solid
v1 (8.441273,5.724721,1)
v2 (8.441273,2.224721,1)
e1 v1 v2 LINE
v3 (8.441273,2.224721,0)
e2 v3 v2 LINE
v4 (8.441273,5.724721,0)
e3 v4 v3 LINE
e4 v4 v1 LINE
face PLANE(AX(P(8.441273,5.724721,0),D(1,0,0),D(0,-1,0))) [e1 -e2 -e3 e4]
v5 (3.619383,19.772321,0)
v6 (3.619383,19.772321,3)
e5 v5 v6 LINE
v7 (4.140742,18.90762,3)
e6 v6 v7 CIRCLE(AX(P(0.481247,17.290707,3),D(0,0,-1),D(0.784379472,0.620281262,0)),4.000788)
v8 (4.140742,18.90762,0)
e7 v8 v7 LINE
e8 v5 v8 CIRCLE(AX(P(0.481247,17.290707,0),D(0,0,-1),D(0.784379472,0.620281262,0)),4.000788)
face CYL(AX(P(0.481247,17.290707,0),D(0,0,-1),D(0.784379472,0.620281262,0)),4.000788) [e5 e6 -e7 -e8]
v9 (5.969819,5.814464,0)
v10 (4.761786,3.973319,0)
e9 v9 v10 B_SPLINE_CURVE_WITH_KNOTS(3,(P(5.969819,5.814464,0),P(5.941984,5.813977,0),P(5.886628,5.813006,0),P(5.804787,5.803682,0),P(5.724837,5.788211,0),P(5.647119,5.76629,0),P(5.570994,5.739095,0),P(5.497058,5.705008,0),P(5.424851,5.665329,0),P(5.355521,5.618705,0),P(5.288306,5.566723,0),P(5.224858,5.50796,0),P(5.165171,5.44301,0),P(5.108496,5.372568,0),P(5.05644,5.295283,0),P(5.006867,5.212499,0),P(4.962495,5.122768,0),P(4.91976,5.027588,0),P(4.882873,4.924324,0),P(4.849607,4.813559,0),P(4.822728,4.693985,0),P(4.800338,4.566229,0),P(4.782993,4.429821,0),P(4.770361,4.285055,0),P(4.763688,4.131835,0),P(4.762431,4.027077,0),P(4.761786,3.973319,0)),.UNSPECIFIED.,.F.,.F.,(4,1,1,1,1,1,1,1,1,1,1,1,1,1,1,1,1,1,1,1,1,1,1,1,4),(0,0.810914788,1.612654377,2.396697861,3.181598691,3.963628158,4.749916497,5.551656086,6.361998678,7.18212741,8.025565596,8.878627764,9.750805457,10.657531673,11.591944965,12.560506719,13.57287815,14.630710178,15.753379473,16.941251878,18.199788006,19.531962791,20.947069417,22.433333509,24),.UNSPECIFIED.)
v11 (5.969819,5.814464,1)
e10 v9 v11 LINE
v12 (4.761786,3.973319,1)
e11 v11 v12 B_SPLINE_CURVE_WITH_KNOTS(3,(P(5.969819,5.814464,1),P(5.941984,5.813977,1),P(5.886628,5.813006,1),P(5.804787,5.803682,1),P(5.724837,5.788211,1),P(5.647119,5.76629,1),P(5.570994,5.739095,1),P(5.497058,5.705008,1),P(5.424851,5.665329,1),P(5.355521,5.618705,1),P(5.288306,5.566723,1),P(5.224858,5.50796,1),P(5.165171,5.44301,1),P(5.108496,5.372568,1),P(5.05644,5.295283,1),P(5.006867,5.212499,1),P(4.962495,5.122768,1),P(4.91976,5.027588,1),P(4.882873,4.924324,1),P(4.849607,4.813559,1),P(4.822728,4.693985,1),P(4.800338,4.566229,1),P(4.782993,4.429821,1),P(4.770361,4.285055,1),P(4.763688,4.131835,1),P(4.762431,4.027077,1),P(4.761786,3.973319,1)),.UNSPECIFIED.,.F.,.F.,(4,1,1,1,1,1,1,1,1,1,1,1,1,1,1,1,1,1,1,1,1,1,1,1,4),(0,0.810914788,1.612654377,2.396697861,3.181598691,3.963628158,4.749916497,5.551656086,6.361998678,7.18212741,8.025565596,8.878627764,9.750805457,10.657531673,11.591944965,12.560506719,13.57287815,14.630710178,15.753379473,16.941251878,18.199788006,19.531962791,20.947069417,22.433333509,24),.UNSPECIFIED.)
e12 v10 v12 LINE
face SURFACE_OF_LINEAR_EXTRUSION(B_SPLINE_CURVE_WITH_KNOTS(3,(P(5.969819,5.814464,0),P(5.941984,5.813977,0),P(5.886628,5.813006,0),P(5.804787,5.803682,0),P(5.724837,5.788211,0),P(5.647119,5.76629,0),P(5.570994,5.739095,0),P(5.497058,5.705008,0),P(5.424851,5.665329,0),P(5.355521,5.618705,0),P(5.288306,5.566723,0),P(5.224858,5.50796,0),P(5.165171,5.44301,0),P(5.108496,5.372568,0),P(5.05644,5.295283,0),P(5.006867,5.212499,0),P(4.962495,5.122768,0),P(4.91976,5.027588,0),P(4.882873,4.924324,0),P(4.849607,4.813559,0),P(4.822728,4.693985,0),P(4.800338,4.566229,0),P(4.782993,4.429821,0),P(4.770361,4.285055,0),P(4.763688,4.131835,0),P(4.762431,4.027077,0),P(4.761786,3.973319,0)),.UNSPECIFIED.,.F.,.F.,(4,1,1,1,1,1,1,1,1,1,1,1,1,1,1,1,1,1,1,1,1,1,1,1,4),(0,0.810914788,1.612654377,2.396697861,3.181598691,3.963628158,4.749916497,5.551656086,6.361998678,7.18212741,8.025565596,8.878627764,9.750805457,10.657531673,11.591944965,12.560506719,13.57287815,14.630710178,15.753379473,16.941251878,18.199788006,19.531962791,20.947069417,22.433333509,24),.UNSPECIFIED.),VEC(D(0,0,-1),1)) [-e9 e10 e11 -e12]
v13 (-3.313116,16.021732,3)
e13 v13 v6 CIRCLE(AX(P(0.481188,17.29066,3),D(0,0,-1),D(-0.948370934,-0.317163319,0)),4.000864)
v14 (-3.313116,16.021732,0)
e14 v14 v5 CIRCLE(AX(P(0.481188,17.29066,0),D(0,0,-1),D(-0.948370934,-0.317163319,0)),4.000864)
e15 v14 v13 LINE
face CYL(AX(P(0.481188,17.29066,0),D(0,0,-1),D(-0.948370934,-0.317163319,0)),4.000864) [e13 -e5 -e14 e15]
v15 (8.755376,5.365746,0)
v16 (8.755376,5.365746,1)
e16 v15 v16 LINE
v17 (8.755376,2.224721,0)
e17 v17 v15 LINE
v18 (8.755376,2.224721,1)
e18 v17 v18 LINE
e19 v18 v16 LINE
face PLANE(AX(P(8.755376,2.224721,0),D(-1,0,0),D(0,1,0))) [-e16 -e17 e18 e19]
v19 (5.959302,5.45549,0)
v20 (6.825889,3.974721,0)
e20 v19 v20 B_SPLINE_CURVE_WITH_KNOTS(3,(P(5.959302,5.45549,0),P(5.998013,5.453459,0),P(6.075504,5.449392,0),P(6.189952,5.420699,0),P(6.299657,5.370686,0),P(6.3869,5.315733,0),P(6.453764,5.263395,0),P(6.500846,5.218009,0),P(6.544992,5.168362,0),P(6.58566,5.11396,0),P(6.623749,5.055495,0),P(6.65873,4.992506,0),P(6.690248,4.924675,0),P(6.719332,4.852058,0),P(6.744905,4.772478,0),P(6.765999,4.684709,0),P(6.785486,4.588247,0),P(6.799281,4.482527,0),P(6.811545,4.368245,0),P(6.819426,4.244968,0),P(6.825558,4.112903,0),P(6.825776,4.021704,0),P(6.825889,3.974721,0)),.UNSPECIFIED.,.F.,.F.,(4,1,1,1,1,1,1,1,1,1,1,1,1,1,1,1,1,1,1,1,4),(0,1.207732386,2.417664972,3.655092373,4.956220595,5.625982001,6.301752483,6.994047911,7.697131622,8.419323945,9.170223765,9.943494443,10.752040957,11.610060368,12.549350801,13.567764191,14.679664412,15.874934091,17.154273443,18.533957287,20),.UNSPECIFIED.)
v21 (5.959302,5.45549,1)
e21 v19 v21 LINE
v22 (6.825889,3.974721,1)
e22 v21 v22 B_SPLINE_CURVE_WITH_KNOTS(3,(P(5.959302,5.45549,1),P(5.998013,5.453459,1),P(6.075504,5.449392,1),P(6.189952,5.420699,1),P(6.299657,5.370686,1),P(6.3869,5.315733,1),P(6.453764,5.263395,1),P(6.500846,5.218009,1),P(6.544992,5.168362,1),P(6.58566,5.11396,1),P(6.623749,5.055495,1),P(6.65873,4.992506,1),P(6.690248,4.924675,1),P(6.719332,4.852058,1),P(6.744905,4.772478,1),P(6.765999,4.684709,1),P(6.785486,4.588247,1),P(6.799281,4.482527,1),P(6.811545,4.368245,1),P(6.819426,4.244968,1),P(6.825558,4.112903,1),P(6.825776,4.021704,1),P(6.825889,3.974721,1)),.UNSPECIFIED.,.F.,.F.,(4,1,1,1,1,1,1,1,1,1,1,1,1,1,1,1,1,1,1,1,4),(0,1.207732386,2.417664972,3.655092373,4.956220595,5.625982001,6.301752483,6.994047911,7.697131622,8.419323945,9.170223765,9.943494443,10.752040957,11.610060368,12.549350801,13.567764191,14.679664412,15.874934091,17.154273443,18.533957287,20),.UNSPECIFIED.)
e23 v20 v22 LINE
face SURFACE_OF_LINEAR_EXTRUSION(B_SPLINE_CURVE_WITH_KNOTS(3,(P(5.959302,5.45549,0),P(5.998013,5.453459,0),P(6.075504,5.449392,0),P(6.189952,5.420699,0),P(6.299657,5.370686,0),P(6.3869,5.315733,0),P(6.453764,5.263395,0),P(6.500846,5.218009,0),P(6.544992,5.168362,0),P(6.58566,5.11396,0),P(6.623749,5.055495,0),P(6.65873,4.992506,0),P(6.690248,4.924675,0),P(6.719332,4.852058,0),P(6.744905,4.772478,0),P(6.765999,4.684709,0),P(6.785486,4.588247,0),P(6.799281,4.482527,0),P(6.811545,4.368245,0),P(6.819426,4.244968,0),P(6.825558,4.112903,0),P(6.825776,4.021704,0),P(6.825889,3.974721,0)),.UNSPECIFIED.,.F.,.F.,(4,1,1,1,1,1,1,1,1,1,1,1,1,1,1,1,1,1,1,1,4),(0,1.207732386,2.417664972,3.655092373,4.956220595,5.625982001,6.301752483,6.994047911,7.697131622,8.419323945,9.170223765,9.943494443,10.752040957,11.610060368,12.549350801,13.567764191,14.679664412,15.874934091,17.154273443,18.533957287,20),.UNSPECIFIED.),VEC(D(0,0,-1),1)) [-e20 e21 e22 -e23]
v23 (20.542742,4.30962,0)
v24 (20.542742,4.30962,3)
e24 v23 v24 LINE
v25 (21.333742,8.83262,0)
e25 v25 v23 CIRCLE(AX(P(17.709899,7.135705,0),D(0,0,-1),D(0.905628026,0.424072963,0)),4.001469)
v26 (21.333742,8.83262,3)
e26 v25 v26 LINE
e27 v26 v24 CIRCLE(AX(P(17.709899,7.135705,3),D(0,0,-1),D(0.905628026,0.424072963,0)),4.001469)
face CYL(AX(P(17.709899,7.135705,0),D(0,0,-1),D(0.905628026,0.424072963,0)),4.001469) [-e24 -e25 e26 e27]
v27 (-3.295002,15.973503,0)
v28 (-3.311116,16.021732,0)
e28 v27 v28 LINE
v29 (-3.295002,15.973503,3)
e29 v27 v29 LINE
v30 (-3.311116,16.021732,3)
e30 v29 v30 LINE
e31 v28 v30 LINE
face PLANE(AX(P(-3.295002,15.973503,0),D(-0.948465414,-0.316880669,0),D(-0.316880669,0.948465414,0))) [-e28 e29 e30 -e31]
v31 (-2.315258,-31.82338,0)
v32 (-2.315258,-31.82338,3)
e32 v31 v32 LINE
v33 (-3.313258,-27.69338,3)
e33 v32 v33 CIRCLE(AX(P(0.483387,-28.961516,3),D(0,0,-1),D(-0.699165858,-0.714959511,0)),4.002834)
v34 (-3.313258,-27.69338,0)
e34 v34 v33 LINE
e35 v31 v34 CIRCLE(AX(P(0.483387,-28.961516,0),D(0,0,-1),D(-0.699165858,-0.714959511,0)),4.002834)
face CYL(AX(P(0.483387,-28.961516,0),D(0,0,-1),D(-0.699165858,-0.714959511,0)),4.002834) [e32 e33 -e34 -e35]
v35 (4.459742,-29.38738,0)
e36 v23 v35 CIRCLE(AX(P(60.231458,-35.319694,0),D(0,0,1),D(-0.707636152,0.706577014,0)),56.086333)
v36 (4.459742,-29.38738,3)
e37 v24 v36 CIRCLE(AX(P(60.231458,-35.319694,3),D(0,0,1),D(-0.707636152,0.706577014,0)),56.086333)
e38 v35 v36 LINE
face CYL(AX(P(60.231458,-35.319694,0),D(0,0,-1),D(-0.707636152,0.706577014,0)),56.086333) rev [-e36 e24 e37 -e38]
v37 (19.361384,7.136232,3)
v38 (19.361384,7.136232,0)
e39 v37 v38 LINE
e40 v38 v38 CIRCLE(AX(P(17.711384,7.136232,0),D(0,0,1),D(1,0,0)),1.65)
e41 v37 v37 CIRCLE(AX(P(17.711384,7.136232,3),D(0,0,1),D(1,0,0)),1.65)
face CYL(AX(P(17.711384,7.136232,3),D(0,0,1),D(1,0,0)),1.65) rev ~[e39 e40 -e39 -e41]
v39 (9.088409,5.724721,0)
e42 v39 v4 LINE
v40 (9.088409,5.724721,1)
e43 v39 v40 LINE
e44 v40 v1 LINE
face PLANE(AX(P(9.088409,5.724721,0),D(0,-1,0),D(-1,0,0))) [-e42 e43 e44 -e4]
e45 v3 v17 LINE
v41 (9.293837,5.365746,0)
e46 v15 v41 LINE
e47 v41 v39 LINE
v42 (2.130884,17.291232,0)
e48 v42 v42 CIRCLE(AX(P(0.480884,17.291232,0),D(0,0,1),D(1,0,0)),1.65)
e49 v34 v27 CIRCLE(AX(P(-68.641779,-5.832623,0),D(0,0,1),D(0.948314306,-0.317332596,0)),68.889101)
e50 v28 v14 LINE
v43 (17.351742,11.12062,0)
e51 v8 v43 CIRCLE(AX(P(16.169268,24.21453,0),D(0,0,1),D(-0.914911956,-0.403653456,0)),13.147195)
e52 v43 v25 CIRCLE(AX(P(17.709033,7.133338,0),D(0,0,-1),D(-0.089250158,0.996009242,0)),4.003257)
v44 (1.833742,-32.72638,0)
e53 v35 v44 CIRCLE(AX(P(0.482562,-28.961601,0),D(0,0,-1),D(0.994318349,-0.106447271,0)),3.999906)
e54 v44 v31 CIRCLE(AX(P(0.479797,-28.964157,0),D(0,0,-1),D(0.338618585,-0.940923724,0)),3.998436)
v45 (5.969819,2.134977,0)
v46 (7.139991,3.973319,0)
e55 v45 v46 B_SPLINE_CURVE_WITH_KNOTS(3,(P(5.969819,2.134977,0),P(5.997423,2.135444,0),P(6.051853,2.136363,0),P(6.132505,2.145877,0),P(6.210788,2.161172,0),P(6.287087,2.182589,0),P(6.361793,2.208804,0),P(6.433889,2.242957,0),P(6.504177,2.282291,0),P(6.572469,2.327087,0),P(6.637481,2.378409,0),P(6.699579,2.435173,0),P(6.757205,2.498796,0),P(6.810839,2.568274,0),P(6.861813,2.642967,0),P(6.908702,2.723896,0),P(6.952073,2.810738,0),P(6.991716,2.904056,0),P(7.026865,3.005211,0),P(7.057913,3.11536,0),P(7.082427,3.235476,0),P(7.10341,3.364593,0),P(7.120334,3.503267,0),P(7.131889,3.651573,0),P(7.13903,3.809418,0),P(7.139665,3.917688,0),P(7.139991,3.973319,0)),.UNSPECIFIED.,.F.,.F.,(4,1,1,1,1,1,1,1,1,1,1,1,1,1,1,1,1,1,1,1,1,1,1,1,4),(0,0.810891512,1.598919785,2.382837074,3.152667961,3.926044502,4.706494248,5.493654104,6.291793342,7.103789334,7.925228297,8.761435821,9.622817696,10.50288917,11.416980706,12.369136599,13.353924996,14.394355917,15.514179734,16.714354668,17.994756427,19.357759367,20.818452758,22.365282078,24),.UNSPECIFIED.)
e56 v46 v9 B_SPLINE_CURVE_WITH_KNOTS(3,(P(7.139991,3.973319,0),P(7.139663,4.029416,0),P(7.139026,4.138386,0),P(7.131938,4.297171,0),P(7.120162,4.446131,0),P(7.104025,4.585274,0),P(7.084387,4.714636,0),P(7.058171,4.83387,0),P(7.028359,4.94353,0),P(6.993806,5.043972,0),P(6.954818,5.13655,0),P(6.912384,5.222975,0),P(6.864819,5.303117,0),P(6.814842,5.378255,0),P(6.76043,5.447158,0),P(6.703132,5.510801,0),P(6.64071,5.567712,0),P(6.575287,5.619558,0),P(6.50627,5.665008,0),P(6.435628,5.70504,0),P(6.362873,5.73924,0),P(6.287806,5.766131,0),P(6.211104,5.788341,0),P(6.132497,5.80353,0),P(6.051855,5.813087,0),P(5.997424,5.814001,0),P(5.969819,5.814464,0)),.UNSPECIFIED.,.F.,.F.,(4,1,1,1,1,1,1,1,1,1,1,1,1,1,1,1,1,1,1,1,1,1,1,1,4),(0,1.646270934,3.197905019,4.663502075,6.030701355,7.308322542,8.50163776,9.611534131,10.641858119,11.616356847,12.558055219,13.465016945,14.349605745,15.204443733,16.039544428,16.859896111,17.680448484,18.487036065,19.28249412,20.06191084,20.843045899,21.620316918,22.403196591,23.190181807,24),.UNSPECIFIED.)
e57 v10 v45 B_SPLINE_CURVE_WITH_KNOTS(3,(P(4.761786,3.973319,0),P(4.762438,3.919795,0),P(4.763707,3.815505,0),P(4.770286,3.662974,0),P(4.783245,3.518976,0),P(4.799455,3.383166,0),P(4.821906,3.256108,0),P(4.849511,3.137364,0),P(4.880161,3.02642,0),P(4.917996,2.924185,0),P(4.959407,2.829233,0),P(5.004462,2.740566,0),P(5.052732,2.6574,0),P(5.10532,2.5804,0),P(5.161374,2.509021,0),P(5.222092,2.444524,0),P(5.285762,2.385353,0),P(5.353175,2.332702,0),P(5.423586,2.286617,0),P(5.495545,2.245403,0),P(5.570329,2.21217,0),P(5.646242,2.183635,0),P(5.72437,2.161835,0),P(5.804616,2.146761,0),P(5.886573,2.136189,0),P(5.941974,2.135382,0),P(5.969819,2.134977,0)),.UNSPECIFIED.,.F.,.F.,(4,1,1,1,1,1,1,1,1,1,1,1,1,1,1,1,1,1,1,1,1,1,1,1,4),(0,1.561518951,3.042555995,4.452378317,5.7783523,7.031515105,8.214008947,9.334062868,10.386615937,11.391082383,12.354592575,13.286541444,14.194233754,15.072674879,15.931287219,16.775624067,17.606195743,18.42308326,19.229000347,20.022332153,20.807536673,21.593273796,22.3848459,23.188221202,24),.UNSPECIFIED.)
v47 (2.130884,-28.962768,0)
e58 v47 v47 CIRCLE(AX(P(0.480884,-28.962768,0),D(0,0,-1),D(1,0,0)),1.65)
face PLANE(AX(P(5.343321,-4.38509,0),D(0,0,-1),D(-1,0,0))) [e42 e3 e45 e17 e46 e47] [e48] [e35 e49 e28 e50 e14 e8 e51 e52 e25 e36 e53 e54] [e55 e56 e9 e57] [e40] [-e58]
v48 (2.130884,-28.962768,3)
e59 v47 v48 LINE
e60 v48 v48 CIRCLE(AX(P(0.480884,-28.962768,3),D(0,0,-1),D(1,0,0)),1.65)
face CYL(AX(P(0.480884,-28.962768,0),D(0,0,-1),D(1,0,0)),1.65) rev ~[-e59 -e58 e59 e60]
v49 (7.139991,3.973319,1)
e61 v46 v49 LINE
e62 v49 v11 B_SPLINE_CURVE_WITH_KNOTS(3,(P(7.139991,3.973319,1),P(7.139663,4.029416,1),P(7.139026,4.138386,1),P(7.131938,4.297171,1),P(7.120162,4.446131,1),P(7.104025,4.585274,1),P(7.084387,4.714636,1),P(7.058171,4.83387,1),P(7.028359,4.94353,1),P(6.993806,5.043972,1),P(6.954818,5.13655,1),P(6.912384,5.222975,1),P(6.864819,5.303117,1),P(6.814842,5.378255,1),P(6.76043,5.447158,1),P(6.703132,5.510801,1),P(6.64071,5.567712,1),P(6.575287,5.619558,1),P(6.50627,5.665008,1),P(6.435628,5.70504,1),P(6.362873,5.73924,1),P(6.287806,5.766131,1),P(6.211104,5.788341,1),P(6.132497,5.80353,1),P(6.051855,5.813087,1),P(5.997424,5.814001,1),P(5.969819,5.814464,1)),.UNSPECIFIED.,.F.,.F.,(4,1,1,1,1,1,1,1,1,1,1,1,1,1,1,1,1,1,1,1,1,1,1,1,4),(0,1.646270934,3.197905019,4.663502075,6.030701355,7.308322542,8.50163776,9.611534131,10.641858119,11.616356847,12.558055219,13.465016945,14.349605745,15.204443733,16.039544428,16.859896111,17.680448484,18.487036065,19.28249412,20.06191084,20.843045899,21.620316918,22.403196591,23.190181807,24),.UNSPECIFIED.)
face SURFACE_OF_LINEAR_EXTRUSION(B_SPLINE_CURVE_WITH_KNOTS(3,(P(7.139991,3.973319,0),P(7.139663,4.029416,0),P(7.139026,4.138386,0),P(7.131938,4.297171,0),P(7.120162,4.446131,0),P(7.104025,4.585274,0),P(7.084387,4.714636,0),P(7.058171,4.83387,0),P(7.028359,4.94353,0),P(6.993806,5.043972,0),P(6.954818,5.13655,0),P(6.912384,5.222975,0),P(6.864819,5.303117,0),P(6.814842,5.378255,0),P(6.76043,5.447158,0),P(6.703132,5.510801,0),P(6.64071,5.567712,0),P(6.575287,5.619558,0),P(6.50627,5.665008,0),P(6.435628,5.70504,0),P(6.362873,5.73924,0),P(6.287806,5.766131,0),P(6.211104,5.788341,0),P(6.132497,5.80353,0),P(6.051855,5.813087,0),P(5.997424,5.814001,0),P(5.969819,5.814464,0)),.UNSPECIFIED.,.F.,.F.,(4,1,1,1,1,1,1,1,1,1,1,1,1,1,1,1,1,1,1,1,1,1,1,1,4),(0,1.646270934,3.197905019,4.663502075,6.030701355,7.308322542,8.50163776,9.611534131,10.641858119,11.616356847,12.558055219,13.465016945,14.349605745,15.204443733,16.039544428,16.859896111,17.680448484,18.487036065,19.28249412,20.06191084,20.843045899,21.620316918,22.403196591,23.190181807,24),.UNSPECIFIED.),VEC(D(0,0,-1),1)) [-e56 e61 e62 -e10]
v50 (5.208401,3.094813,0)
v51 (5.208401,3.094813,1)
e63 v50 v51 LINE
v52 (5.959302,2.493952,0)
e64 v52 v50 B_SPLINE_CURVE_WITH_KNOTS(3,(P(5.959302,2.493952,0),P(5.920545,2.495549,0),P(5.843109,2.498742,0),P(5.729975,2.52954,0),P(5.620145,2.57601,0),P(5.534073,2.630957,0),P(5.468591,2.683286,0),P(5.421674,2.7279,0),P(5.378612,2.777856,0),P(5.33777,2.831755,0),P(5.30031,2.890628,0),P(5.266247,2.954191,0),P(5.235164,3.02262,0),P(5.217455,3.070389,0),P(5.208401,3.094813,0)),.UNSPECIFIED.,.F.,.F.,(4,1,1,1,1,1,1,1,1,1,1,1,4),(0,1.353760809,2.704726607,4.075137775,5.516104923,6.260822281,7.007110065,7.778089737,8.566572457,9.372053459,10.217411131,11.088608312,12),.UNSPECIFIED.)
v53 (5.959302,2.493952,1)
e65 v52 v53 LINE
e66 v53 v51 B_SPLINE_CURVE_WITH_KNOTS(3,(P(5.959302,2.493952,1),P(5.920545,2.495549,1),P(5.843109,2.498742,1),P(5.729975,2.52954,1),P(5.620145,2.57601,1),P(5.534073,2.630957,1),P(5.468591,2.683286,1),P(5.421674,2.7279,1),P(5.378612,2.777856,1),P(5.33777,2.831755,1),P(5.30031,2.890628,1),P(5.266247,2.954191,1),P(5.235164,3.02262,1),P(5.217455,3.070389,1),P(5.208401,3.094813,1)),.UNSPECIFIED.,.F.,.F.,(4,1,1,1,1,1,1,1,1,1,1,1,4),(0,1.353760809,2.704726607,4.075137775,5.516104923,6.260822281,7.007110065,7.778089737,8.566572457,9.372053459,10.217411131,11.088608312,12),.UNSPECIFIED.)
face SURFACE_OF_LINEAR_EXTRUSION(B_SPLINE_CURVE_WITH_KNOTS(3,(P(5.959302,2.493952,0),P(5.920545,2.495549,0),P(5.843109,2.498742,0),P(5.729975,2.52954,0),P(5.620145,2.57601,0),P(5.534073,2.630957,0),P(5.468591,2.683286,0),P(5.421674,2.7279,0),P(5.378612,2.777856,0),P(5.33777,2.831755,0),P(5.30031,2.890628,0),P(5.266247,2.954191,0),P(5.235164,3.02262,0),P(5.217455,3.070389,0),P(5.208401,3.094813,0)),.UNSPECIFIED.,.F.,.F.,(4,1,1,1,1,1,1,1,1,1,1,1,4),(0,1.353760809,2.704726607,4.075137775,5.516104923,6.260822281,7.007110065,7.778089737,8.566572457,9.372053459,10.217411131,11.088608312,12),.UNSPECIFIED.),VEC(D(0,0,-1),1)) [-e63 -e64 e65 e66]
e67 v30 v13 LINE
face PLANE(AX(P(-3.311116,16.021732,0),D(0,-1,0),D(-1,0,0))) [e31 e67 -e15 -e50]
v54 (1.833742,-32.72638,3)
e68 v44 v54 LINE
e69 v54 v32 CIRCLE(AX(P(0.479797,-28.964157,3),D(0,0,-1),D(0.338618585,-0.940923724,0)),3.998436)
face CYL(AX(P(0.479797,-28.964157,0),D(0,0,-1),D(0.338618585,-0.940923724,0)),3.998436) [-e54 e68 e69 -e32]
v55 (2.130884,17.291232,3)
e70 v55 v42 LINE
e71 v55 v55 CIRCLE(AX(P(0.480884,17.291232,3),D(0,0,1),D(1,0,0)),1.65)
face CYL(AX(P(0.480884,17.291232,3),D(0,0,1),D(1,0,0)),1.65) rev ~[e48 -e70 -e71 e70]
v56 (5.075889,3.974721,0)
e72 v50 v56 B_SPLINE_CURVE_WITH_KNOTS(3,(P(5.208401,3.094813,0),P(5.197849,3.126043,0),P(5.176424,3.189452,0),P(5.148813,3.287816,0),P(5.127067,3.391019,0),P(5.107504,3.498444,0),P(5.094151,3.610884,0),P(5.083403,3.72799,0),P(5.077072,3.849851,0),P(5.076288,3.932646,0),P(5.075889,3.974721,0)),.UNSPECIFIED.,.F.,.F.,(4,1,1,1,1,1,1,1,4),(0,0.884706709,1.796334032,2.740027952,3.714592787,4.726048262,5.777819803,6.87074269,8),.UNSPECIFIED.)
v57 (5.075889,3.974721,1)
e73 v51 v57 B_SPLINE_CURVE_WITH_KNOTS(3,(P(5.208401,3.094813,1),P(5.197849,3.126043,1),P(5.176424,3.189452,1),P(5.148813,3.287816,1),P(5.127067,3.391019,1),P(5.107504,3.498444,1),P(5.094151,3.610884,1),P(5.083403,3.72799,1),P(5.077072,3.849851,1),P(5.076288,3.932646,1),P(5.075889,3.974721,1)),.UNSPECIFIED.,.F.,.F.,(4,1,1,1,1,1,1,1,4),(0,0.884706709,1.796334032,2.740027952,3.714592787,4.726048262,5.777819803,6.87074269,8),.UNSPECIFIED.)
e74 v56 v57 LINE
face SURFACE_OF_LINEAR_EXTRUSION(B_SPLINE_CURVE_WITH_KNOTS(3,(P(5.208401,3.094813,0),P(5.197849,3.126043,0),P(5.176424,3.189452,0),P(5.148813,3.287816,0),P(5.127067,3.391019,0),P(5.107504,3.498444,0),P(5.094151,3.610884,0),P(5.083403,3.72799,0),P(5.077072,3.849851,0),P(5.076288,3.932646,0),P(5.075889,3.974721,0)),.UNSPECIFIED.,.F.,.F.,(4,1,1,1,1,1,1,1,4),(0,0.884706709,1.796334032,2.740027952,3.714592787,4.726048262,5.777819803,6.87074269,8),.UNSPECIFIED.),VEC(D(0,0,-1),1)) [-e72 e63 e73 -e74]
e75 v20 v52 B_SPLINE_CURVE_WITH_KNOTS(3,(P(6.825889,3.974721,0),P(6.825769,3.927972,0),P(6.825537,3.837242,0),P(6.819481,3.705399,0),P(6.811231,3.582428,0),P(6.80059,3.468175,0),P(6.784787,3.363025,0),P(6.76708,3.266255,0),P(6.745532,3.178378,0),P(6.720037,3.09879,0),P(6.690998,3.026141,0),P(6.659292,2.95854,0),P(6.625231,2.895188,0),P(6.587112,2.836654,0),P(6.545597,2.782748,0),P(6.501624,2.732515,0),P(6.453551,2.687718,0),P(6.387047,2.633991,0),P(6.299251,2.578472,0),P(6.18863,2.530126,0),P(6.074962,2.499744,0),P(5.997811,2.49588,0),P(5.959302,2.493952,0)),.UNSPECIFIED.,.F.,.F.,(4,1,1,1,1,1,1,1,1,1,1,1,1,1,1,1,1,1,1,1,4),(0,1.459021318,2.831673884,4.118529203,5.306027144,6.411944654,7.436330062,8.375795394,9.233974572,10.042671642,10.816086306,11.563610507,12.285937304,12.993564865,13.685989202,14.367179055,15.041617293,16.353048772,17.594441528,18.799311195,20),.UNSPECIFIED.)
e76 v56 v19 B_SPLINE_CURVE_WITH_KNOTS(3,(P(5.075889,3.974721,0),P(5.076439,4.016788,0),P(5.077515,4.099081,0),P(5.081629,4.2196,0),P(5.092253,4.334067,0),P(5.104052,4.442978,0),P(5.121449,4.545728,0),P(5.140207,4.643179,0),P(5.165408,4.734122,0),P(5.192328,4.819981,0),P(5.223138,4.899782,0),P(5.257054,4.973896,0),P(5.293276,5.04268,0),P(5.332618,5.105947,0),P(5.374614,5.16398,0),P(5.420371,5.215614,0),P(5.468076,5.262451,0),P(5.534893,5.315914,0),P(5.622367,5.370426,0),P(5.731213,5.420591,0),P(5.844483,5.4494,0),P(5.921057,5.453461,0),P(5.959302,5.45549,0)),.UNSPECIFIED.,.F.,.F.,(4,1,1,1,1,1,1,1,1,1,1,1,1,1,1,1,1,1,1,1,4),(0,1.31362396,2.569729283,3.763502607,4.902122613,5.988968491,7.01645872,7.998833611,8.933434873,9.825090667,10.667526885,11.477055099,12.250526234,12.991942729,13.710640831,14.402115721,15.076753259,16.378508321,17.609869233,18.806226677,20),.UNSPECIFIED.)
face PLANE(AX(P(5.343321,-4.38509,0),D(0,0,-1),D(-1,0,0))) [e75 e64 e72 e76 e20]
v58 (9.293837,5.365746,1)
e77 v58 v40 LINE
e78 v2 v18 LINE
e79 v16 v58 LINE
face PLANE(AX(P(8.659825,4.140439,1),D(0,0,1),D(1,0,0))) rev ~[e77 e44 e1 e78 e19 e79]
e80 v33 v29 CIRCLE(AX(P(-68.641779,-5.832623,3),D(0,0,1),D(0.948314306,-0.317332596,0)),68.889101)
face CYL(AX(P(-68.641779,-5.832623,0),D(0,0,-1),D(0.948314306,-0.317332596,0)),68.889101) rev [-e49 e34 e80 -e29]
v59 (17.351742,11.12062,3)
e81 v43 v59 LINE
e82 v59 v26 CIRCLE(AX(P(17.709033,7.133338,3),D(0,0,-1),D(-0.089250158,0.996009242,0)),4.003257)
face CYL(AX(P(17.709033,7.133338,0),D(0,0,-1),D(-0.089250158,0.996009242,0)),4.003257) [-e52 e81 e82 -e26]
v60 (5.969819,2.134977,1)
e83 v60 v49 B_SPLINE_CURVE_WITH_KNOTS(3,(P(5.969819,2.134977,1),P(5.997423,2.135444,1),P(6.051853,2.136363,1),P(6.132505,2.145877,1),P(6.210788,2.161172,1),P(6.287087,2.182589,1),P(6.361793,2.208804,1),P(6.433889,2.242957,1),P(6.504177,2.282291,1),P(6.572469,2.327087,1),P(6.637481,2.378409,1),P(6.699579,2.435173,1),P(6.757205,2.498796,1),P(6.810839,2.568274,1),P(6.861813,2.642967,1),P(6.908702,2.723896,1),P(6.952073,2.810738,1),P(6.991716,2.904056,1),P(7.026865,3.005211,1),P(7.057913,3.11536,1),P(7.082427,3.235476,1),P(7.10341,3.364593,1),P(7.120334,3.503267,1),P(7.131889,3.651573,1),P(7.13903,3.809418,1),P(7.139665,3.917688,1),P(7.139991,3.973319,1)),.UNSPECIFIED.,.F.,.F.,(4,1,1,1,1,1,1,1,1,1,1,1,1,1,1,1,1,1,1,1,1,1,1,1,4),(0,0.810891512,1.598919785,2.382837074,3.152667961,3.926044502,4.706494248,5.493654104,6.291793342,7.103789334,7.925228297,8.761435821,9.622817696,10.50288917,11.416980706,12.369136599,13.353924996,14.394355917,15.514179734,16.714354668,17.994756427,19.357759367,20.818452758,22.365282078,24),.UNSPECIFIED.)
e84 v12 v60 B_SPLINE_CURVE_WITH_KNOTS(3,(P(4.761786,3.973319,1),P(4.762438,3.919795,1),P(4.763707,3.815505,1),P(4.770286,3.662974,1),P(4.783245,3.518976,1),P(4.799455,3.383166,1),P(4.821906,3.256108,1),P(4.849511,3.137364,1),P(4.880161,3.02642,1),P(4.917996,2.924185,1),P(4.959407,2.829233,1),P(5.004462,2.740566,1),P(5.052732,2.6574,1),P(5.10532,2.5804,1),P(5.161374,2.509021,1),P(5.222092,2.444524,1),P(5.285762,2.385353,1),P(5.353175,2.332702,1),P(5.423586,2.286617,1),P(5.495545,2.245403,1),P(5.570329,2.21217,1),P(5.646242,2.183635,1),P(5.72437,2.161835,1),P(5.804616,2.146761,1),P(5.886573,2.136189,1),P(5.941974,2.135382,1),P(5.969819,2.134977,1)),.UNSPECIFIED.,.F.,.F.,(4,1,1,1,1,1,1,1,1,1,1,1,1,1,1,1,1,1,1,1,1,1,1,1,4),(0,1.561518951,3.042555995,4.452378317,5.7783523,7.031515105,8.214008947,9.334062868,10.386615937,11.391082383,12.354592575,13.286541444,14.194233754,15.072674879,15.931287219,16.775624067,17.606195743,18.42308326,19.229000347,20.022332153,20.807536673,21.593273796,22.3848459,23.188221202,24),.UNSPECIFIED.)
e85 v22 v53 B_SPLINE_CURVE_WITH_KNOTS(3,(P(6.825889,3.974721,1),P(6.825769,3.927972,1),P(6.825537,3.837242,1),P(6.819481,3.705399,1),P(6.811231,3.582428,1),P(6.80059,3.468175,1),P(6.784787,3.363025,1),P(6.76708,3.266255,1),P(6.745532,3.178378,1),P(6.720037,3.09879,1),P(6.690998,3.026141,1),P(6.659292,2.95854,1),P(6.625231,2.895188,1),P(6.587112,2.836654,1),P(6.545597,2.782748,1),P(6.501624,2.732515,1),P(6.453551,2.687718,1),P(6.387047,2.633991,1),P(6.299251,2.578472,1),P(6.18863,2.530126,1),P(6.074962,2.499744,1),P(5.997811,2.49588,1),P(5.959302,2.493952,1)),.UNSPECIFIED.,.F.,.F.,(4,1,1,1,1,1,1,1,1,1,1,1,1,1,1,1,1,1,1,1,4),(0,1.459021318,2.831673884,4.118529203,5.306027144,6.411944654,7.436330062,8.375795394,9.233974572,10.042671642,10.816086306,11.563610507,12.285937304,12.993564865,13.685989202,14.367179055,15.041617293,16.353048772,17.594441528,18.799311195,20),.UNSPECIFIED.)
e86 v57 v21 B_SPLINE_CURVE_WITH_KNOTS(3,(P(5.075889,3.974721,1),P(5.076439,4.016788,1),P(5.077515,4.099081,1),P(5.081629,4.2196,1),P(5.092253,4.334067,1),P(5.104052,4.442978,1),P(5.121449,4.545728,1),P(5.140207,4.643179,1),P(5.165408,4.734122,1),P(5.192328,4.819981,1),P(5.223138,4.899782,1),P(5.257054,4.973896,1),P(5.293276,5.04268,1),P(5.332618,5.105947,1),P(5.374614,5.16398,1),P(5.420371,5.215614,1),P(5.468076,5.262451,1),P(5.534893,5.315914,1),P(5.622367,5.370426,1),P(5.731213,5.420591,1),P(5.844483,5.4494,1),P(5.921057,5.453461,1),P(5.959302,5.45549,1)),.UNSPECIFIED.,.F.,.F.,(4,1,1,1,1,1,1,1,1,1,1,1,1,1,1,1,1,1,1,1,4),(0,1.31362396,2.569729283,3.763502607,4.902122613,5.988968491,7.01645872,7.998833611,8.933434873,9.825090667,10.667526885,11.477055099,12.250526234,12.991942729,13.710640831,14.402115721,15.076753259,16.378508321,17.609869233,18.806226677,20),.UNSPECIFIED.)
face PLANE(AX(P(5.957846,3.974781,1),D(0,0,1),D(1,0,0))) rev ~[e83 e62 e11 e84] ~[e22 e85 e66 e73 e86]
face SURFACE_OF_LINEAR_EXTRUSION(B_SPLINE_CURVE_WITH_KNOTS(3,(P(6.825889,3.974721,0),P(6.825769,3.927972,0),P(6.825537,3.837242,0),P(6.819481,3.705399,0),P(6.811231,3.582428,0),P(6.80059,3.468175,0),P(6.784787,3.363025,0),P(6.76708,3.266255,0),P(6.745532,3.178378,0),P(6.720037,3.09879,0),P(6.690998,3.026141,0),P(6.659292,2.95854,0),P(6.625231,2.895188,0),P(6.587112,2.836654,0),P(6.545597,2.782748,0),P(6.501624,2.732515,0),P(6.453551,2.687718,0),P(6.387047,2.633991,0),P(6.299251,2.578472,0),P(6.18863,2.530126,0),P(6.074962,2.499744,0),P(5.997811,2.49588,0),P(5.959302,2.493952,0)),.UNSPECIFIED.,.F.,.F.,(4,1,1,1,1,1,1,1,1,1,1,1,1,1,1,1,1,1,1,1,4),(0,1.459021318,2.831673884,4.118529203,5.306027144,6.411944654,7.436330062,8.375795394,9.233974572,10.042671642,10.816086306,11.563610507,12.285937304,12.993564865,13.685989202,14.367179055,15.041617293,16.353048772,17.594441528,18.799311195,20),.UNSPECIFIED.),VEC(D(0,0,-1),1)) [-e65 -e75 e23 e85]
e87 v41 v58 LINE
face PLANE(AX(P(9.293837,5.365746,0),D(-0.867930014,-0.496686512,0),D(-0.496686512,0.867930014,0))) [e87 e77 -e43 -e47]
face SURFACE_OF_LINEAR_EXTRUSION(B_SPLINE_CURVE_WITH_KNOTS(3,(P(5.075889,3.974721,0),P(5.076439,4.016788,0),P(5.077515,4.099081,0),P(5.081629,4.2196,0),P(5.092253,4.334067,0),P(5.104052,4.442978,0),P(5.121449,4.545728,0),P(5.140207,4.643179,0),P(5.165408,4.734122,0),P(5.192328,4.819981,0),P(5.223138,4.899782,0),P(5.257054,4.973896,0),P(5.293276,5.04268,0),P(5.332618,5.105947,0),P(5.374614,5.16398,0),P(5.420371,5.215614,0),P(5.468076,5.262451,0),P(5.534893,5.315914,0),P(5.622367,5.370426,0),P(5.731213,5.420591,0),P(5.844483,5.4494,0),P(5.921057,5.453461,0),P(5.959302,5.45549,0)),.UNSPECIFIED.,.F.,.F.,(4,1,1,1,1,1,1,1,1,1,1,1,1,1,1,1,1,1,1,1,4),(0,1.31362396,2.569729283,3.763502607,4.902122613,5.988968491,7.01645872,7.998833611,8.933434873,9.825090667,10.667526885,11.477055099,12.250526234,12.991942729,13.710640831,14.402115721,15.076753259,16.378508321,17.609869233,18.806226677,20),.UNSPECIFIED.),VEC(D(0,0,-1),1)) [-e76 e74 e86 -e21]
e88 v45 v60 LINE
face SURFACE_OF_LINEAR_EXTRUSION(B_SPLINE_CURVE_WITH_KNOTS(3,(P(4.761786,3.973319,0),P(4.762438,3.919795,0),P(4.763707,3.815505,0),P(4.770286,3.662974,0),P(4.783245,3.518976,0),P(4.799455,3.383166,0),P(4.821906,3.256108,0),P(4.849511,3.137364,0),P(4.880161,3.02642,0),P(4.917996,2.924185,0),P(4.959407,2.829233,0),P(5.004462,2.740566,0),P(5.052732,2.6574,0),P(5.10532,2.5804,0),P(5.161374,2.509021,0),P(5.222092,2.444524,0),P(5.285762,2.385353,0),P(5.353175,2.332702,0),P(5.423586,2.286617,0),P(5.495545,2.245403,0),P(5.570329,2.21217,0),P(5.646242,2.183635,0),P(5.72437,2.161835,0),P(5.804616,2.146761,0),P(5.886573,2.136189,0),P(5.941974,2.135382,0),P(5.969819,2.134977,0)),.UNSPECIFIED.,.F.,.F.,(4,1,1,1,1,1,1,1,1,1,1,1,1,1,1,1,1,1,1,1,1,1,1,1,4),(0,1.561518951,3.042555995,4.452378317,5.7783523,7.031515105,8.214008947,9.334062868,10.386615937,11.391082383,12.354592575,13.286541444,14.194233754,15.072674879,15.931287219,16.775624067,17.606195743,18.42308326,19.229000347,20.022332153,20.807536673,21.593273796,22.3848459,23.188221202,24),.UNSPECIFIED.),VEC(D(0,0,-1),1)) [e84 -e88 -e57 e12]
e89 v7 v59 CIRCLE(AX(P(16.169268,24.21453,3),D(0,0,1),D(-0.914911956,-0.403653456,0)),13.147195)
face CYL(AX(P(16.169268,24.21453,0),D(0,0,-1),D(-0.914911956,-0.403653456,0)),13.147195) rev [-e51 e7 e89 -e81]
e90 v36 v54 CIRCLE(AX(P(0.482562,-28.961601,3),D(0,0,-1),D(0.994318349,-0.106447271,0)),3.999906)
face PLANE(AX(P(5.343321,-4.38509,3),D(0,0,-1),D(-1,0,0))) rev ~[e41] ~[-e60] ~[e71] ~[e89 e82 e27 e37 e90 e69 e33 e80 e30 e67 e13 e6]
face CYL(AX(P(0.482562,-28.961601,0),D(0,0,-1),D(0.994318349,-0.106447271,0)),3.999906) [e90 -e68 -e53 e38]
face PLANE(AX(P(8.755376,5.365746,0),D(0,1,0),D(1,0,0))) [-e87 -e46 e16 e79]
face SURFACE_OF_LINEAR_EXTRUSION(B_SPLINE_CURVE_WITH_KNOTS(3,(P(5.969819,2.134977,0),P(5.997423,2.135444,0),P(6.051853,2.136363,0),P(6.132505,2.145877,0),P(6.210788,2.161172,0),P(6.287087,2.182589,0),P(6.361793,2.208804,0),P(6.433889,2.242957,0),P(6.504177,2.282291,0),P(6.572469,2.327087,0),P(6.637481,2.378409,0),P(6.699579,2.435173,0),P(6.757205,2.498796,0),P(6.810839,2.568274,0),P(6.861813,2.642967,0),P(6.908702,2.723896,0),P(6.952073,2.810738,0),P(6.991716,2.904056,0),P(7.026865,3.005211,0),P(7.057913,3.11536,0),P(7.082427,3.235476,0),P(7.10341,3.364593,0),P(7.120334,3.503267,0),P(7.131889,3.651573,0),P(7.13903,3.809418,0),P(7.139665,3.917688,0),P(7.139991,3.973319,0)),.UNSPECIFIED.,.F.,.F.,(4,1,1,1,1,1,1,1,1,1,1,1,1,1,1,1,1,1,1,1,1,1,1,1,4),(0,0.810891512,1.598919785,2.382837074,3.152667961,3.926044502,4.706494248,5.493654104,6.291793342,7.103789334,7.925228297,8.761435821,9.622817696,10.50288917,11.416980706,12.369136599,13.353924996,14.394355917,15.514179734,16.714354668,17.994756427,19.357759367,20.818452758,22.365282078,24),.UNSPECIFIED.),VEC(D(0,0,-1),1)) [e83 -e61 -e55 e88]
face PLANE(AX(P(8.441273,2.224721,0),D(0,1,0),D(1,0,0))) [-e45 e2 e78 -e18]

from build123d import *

# Parameters (mm, degrees)
SKETCH_1_R          = 1.35
SKETCH_1_R_2        = 1.65
SKETCH_1_R_3        = 1.3
EXTRUDE_1_DEPTH     = 3
SKETCH_2_R          = 1.65
CUT_EXTRUDE_1_DEPTH = 40.58429055
CUT_EXTRUDE_2_DEPTH = 1


with BuildPart() as part:
    # 草图1 → 凸台-拉伸1 (new body)
    with BuildSketch(Plane(origin=(0, 0, 0), x_dir=(-1, 0, 0), z_dir=(0, 0, -1))):
        with BuildLine():
            Line((3.311115848, 16.021732214), (3.313115848, 16.021732214))
            ThreePointArc((3.313115848, 16.021732214), (1.422584465, 20.809546819), (-3.619383376, 19.772320768))
            ThreePointArc((-3.619383376, 19.772320768), (-3.907451025, 19.356483629), (-4.140741668, 18.907619539))
            ThreePointArc((-4.140741668, 18.907619539), (-9.493299368, 12.888445888), (-17.351741668, 11.120619539))
            ThreePointArc((-17.351741668, 11.120619539), (-19.703460244, 10.604408599), (-21.333741668, 8.832619539))
            ThreePointArc((-21.333741668, 8.832619539), (-21.651545732, 6.446374123), (-20.542741668, 4.309619539))
            ThreePointArc((-20.542741668, 4.309619539), (-9.614805592, -11.161234041), (-4.459741668, -29.387380461))
            ThreePointArc((-4.459741668, -29.387380461), (-3.626617209, -31.434284825), (-1.833741668, -32.726380461))
            ThreePointArc((-1.833741668, -32.726380461), (0.370527809, -32.871130249), (2.315258332, -31.823380461))
            ThreePointArc((2.315258332, -31.823380461), (3.407459975, -29.901725556), (3.313258332, -27.693380461))
            ThreePointArc((3.313258332, -27.693380461), (-0.247316641, -5.861423686), (3.295002421, 15.973502613))
            Line((3.295002421, 15.973502613), (3.311115848, 16.021732214))
        make_face()
        with Locations(Location((-17.711384152, 7.136232214, 0), (0, 0, 180))):
            Circle(SKETCH_1_R, mode=Mode.SUBTRACT)
        with Locations(Location((-0.480884152, -28.962767786, 0), (0, 0, 180))):
            Circle(SKETCH_1_R_2, mode=Mode.SUBTRACT)
        with Locations(Location((-0.480884152, 17.291232214, 0), (0, 0, 180))):
            Circle(SKETCH_1_R_3, mode=Mode.SUBTRACT)
    extrude(amount=-EXTRUDE_1_DEPTH)

    # 草图2 → 切除-拉伸1 (cut, through all)
    with BuildSketch(Plane.XY.offset(3)):
        with Locations((0.480884152, 17.291232214)):
            Circle(SKETCH_2_R)
        with Locations((17.711384152, 7.136232214)):
            Circle(SKETCH_2_R)
    extrude(amount=-CUT_EXTRUDE_1_DEPTH, mode=Mode.SUBTRACT)

    # 草图3 → 切除-拉伸2 (cut)
    # profile 1 of 2: a face of its own
    with BuildSketch(Plane(origin=(0, 0, 0), x_dir=(-1, 0, 0), z_dir=(0, 0, -1))):
        Polygon((-9.088408768, 5.724720745), (-8.441273352, 5.724720745), (-8.441273352, 2.224720745), (-8.755375916, 2.224720745), (-8.755375916, 5.365746386), (-9.293837454, 5.365746386), align=None)
    # profile 2 of 2: a face of its own
    with BuildSketch(Plane(origin=(0, 0, 0), x_dir=(-1, 0, 0), z_dir=(0, 0, -1))):
        with BuildLine():
            add(Edge.make_bspline(
                [(-7.1399913, 3.973318501), (-7.139663282, 4.029415889), (-7.139026102, 4.138385873), (-7.131937681, 4.297170516), (-7.120162339, 4.446130805), (-7.104024966, 4.585273871), (-7.084386986, 4.714635635), (-7.058171499, 4.833870392), (-7.028358697, 4.943529999), (-6.993806251, 5.043972047), (-6.954818462, 5.13654975), (-6.912384201, 5.222974952), (-6.864819407, 5.303116884), (-6.814842494, 5.378254674), (-6.760430422, 5.447158369), (-6.703131632, 5.510801032), (-6.640709755, 5.567711782), (-6.575286747, 5.619558085), (-6.506270283, 5.665007556), (-6.435627617, 5.705040295), (-6.362872511, 5.739240162), (-6.287806328, 5.766130598), (-6.21110377, 5.788341445), (-6.132496703, 5.803530392), (-6.051855339, 5.813087301), (-5.997423905, 5.814000969), (-5.969819025, 5.814464335)],
                knots=[0, 0, 0, 0, 1.646270934, 3.197905019, 4.663502075, 6.030701355, 7.308322542, 8.50163776, 9.611534131, 10.641858119, 11.616356847, 12.558055219, 13.465016945, 14.349605745, 15.204443733, 16.039544428, 16.859896111, 17.680448484, 18.487036065, 19.28249412, 20.06191084, 20.843045899, 21.620316918, 22.403196591, 23.190181807, 24, 24, 24, 24], degree=3))
            add(Edge.make_bspline(
                [(-5.969819025, 5.814464335), (-5.941983546, 5.81397652), (-5.886627537, 5.813006409), (-5.804787162, 5.803682466), (-5.72483748, 5.788211343), (-5.647119342, 5.766290368), (-5.570994355, 5.739094692), (-5.497057948, 5.705007575), (-5.424850866, 5.665328707), (-5.355520578, 5.61870483), (-5.288305963, 5.566722554), (-5.224858, 5.507959885), (-5.165170914, 5.443010166), (-5.108495609, 5.372568302), (-5.056440012, 5.295283217), (-5.006866579, 5.212499107), (-4.962494544, 5.122768242), (-4.919759868, 5.027587775), (-4.882872882, 4.924324116), (-4.849606636, 4.813559355), (-4.822727668, 4.693985168), (-4.800338395, 4.566228923), (-4.782993499, 4.42982144), (-4.770360857, 4.285055124), (-4.763687772, 4.131834734), (-4.762431071, 4.027076885), (-4.761786172, 3.973318501)],
                knots=[0, 0, 0, 0, 0.810914788, 1.612654377, 2.396697861, 3.181598691, 3.963628158, 4.749916497, 5.551656086, 6.361998678, 7.18212741, 8.025565596, 8.878627764, 9.750805457, 10.657531673, 11.591944965, 12.560506719, 13.57287815, 14.630710178, 15.753379473, 16.941251878, 18.199788006, 19.531962791, 20.947069417, 22.433333509, 24, 24, 24, 24], degree=3))
            add(Edge.make_bspline(
                [(-4.761786172, 3.973318501), (-4.762437757, 3.919794594), (-4.763707343, 3.815505442), (-4.770286049, 3.662974466), (-4.783244681, 3.518976423), (-4.799454669, 3.383165961), (-4.821905632, 3.256108342), (-4.849510798, 3.137363893), (-4.880161121, 3.026419822), (-4.917995915, 2.92418501), (-4.959406625, 2.829233287), (-5.004461822, 2.740566139), (-5.052731648, 2.657399846), (-5.105320393, 2.580400099), (-5.161373806, 2.509021442), (-5.222091595, 2.444523819), (-5.28576218, 2.385353148), (-5.353174596, 2.33270152), (-5.423586147, 2.286616715), (-5.495545224, 2.245402865), (-5.570328607, 2.21217017), (-5.64624156, 2.183635129), (-5.724369926, 2.161834677), (-5.804616317, 2.146760822), (-5.886572553, 2.136188973), (-5.941974118, 2.135382493), (-5.969819025, 2.134977155)],
                knots=[0, 0, 0, 0, 1.561518951, 3.042555995, 4.452378317, 5.7783523, 7.031515105, 8.214008947, 9.334062868, 10.386615937, 11.391082383, 12.354592575, 13.286541444, 14.194233754, 15.072674879, 15.931287219, 16.775624067, 17.606195743, 18.42308326, 19.229000347, 20.022332153, 20.807536673, 21.593273796, 22.3848459, 23.188221202, 24, 24, 24, 24], degree=3))
            add(Edge.make_bspline(
                [(-5.969819025, 2.134977155), (-5.997423139, 2.135443511), (-6.051853064, 2.136363073), (-6.132505489, 2.145876804), (-6.210787932, 2.161172307), (-6.287086686, 2.182588911), (-6.361793202, 2.208803748), (-6.433889488, 2.242957431), (-6.504177172, 2.2822915), (-6.572468728, 2.327086922), (-6.637480889, 2.378408605), (-6.699579494, 2.435172894), (-6.757204513, 2.498796305), (-6.810838609, 2.568274228), (-6.861812697, 2.64296747), (-6.90870207, 2.723895843), (-6.952072925, 2.810738454), (-6.991716415, 2.904056365), (-7.026865079, 3.005211292), (-7.057912787, 3.115360471), (-7.082426944, 3.235476107), (-7.1034099, 3.364593474), (-7.120334283, 3.503267405), (-7.131888608, 3.651573183), (-7.139029923, 3.809418392), (-7.139664993, 3.917688166), (-7.1399913, 3.973318501)],
                knots=[0, 0, 0, 0, 0.810891512, 1.598919785, 2.382837074, 3.152667961, 3.926044502, 4.706494248, 5.493654104, 6.291793342, 7.103789334, 7.925228297, 8.761435821, 9.622817696, 10.50288917, 11.416980706, 12.369136599, 13.353924996, 14.394355917, 15.514179734, 16.714354668, 17.994756427, 19.357759367, 20.818452758, 22.365282078, 24, 24, 24, 24], degree=3))
        make_face()
        with BuildLine():
            add(Edge.make_bspline(
                [(-6.825888736, 3.974720745), (-6.825769289, 3.927972046), (-6.825537466, 3.837242001), (-6.819481265, 3.70539874), (-6.811231033, 3.582428412), (-6.800589736, 3.468174875), (-6.784786788, 3.363024863), (-6.76708, 3.26625518), (-6.74553191, 3.178377942), (-6.720036892, 3.098790132), (-6.690997795, 3.026141063), (-6.659291932, 2.958539848), (-6.625231209, 2.895187912), (-6.587112058, 2.836654303), (-6.545596995, 2.782748139), (-6.501623736, 2.732515307), (-6.453551152, 2.687718326), (-6.387047409, 2.633991471), (-6.299250935, 2.578472337), (-6.18863048, 2.530126247), (-6.074962029, 2.499743791), (-5.997810778, 2.495880035), (-5.959302198, 2.493951514)],
                knots=[0, 0, 0, 0, 1.459021318, 2.831673884, 4.118529203, 5.306027144, 6.411944654, 7.436330062, 8.375795394, 9.233974572, 10.042671642, 10.816086306, 11.563610507, 12.285937304, 12.993564865, 13.685989202, 14.367179055, 15.041617293, 16.353048772, 17.594441528, 18.799311195, 20, 20, 20, 20], degree=3))
            add(Edge.make_bspline(
                [(-5.959302198, 2.493951514), (-5.920544526, 2.495549295), (-5.843109203, 2.498741558), (-5.729975408, 2.529540295), (-5.620145138, 2.576009835), (-5.534073197, 2.63095734), (-5.468590654, 2.68328567), (-5.421673664, 2.727900318), (-5.378611615, 2.777856185), (-5.337769541, 2.831755481), (-5.300310465, 2.890627965), (-5.266247327, 2.954190541), (-5.23516398, 3.022619718), (-5.217454934, 3.070389458), (-5.208400756, 3.094812892)],
                knots=[0, 0, 0, 0, 1.353760809, 2.704726607, 4.075137775, 5.516104923, 6.260822281, 7.007110065, 7.778089737, 8.566572457, 9.372053459, 10.217411131, 11.088608312, 12, 12, 12, 12], degree=3))
            add(Edge.make_bspline(
                [(-5.208400756, 3.094812892), (-5.197848988, 3.126042632), (-5.176424374, 3.189452396), (-5.1488126, 3.287816048), (-5.1270672, 3.391018812), (-5.107503835, 3.498443929), (-5.094150779, 3.61088363), (-5.083402966, 3.727990014), (-5.077072279, 3.849851376), (-5.076287527, 3.932646367), (-5.075888736, 3.974720745)],
                knots=[0, 0, 0, 0, 0.884706709, 1.796334032, 2.740027952, 3.714592787, 4.726048262, 5.777819803, 6.87074269, 8, 8, 8, 8], degree=3))
            add(Edge.make_bspline(
                [(-5.075888736, 3.974720745), (-5.076438926, 4.016788318), (-5.077515213, 4.099081482), (-5.081629201, 4.219599663), (-5.092252775, 4.334067424), (-5.104051894, 4.442977897), (-5.121449115, 4.545728199), (-5.140206922, 4.643178505), (-5.165408135, 4.734121529), (-5.19232791, 4.819981111), (-5.223138305, 4.899781766), (-5.257054039, 4.973895552), (-5.293275798, 5.042680277), (-5.332618039, 5.105947218), (-5.374613722, 5.163979761), (-5.420371271, 5.215614356), (-5.468075644, 5.262451324), (-5.53489283, 5.315913893), (-5.622367119, 5.370425588), (-5.731212767, 5.420591348), (-5.844483411, 5.449399641), (-5.921056865, 5.453461328), (-5.959302198, 5.455489976)],
                knots=[0, 0, 0, 0, 1.31362396, 2.569729283, 3.763502607, 4.902122613, 5.988968491, 7.01645872, 7.998833611, 8.933434873, 9.825090667, 10.667526885, 11.477055099, 12.250526234, 12.991942729, 13.710640831, 14.402115721, 15.076753259, 16.378508321, 17.609869233, 18.806226677, 20, 20, 20, 20], degree=3))
            add(Edge.make_bspline(
                [(-5.959302198, 5.455489976), (-5.99801279, 5.453458529), (-6.075504496, 5.449391935), (-6.18995245, 5.420698681), (-6.299656802, 5.370685716), (-6.386899777, 5.315733343), (-6.453763563, 5.263395032), (-6.500846256, 5.218008578), (-6.544992429, 5.168362323), (-6.585660129, 5.113960408), (-6.623749412, 5.055495041), (-6.658730425, 4.992506276), (-6.690247754, 4.924674912), (-6.71933229, 4.852058477), (-6.744905078, 4.772477532), (-6.765999042, 4.684708539), (-6.785486095, 4.588246647), (-6.799281364, 4.482527139), (-6.811545119, 4.368244986), (-6.819426467, 4.244967667), (-6.825557725, 4.112903287), (-6.825776189, 4.021704128), (-6.825888736, 3.974720745)],
                knots=[0, 0, 0, 0, 1.207732386, 2.417664972, 3.655092373, 4.956220595, 5.625982001, 6.301752483, 6.994047911, 7.697131622, 8.419323945, 9.170223765, 9.943494443, 10.752040957, 11.610060368, 12.549350801, 13.567764191, 14.679664412, 15.874934091, 17.154273443, 18.533957287, 20, 20, 20, 20], degree=3))
        make_face(mode=Mode.SUBTRACT)
    extrude(amount=-CUT_EXTRUDE_2_DEPTH, mode=Mode.SUBTRACT)


solid = part.part
